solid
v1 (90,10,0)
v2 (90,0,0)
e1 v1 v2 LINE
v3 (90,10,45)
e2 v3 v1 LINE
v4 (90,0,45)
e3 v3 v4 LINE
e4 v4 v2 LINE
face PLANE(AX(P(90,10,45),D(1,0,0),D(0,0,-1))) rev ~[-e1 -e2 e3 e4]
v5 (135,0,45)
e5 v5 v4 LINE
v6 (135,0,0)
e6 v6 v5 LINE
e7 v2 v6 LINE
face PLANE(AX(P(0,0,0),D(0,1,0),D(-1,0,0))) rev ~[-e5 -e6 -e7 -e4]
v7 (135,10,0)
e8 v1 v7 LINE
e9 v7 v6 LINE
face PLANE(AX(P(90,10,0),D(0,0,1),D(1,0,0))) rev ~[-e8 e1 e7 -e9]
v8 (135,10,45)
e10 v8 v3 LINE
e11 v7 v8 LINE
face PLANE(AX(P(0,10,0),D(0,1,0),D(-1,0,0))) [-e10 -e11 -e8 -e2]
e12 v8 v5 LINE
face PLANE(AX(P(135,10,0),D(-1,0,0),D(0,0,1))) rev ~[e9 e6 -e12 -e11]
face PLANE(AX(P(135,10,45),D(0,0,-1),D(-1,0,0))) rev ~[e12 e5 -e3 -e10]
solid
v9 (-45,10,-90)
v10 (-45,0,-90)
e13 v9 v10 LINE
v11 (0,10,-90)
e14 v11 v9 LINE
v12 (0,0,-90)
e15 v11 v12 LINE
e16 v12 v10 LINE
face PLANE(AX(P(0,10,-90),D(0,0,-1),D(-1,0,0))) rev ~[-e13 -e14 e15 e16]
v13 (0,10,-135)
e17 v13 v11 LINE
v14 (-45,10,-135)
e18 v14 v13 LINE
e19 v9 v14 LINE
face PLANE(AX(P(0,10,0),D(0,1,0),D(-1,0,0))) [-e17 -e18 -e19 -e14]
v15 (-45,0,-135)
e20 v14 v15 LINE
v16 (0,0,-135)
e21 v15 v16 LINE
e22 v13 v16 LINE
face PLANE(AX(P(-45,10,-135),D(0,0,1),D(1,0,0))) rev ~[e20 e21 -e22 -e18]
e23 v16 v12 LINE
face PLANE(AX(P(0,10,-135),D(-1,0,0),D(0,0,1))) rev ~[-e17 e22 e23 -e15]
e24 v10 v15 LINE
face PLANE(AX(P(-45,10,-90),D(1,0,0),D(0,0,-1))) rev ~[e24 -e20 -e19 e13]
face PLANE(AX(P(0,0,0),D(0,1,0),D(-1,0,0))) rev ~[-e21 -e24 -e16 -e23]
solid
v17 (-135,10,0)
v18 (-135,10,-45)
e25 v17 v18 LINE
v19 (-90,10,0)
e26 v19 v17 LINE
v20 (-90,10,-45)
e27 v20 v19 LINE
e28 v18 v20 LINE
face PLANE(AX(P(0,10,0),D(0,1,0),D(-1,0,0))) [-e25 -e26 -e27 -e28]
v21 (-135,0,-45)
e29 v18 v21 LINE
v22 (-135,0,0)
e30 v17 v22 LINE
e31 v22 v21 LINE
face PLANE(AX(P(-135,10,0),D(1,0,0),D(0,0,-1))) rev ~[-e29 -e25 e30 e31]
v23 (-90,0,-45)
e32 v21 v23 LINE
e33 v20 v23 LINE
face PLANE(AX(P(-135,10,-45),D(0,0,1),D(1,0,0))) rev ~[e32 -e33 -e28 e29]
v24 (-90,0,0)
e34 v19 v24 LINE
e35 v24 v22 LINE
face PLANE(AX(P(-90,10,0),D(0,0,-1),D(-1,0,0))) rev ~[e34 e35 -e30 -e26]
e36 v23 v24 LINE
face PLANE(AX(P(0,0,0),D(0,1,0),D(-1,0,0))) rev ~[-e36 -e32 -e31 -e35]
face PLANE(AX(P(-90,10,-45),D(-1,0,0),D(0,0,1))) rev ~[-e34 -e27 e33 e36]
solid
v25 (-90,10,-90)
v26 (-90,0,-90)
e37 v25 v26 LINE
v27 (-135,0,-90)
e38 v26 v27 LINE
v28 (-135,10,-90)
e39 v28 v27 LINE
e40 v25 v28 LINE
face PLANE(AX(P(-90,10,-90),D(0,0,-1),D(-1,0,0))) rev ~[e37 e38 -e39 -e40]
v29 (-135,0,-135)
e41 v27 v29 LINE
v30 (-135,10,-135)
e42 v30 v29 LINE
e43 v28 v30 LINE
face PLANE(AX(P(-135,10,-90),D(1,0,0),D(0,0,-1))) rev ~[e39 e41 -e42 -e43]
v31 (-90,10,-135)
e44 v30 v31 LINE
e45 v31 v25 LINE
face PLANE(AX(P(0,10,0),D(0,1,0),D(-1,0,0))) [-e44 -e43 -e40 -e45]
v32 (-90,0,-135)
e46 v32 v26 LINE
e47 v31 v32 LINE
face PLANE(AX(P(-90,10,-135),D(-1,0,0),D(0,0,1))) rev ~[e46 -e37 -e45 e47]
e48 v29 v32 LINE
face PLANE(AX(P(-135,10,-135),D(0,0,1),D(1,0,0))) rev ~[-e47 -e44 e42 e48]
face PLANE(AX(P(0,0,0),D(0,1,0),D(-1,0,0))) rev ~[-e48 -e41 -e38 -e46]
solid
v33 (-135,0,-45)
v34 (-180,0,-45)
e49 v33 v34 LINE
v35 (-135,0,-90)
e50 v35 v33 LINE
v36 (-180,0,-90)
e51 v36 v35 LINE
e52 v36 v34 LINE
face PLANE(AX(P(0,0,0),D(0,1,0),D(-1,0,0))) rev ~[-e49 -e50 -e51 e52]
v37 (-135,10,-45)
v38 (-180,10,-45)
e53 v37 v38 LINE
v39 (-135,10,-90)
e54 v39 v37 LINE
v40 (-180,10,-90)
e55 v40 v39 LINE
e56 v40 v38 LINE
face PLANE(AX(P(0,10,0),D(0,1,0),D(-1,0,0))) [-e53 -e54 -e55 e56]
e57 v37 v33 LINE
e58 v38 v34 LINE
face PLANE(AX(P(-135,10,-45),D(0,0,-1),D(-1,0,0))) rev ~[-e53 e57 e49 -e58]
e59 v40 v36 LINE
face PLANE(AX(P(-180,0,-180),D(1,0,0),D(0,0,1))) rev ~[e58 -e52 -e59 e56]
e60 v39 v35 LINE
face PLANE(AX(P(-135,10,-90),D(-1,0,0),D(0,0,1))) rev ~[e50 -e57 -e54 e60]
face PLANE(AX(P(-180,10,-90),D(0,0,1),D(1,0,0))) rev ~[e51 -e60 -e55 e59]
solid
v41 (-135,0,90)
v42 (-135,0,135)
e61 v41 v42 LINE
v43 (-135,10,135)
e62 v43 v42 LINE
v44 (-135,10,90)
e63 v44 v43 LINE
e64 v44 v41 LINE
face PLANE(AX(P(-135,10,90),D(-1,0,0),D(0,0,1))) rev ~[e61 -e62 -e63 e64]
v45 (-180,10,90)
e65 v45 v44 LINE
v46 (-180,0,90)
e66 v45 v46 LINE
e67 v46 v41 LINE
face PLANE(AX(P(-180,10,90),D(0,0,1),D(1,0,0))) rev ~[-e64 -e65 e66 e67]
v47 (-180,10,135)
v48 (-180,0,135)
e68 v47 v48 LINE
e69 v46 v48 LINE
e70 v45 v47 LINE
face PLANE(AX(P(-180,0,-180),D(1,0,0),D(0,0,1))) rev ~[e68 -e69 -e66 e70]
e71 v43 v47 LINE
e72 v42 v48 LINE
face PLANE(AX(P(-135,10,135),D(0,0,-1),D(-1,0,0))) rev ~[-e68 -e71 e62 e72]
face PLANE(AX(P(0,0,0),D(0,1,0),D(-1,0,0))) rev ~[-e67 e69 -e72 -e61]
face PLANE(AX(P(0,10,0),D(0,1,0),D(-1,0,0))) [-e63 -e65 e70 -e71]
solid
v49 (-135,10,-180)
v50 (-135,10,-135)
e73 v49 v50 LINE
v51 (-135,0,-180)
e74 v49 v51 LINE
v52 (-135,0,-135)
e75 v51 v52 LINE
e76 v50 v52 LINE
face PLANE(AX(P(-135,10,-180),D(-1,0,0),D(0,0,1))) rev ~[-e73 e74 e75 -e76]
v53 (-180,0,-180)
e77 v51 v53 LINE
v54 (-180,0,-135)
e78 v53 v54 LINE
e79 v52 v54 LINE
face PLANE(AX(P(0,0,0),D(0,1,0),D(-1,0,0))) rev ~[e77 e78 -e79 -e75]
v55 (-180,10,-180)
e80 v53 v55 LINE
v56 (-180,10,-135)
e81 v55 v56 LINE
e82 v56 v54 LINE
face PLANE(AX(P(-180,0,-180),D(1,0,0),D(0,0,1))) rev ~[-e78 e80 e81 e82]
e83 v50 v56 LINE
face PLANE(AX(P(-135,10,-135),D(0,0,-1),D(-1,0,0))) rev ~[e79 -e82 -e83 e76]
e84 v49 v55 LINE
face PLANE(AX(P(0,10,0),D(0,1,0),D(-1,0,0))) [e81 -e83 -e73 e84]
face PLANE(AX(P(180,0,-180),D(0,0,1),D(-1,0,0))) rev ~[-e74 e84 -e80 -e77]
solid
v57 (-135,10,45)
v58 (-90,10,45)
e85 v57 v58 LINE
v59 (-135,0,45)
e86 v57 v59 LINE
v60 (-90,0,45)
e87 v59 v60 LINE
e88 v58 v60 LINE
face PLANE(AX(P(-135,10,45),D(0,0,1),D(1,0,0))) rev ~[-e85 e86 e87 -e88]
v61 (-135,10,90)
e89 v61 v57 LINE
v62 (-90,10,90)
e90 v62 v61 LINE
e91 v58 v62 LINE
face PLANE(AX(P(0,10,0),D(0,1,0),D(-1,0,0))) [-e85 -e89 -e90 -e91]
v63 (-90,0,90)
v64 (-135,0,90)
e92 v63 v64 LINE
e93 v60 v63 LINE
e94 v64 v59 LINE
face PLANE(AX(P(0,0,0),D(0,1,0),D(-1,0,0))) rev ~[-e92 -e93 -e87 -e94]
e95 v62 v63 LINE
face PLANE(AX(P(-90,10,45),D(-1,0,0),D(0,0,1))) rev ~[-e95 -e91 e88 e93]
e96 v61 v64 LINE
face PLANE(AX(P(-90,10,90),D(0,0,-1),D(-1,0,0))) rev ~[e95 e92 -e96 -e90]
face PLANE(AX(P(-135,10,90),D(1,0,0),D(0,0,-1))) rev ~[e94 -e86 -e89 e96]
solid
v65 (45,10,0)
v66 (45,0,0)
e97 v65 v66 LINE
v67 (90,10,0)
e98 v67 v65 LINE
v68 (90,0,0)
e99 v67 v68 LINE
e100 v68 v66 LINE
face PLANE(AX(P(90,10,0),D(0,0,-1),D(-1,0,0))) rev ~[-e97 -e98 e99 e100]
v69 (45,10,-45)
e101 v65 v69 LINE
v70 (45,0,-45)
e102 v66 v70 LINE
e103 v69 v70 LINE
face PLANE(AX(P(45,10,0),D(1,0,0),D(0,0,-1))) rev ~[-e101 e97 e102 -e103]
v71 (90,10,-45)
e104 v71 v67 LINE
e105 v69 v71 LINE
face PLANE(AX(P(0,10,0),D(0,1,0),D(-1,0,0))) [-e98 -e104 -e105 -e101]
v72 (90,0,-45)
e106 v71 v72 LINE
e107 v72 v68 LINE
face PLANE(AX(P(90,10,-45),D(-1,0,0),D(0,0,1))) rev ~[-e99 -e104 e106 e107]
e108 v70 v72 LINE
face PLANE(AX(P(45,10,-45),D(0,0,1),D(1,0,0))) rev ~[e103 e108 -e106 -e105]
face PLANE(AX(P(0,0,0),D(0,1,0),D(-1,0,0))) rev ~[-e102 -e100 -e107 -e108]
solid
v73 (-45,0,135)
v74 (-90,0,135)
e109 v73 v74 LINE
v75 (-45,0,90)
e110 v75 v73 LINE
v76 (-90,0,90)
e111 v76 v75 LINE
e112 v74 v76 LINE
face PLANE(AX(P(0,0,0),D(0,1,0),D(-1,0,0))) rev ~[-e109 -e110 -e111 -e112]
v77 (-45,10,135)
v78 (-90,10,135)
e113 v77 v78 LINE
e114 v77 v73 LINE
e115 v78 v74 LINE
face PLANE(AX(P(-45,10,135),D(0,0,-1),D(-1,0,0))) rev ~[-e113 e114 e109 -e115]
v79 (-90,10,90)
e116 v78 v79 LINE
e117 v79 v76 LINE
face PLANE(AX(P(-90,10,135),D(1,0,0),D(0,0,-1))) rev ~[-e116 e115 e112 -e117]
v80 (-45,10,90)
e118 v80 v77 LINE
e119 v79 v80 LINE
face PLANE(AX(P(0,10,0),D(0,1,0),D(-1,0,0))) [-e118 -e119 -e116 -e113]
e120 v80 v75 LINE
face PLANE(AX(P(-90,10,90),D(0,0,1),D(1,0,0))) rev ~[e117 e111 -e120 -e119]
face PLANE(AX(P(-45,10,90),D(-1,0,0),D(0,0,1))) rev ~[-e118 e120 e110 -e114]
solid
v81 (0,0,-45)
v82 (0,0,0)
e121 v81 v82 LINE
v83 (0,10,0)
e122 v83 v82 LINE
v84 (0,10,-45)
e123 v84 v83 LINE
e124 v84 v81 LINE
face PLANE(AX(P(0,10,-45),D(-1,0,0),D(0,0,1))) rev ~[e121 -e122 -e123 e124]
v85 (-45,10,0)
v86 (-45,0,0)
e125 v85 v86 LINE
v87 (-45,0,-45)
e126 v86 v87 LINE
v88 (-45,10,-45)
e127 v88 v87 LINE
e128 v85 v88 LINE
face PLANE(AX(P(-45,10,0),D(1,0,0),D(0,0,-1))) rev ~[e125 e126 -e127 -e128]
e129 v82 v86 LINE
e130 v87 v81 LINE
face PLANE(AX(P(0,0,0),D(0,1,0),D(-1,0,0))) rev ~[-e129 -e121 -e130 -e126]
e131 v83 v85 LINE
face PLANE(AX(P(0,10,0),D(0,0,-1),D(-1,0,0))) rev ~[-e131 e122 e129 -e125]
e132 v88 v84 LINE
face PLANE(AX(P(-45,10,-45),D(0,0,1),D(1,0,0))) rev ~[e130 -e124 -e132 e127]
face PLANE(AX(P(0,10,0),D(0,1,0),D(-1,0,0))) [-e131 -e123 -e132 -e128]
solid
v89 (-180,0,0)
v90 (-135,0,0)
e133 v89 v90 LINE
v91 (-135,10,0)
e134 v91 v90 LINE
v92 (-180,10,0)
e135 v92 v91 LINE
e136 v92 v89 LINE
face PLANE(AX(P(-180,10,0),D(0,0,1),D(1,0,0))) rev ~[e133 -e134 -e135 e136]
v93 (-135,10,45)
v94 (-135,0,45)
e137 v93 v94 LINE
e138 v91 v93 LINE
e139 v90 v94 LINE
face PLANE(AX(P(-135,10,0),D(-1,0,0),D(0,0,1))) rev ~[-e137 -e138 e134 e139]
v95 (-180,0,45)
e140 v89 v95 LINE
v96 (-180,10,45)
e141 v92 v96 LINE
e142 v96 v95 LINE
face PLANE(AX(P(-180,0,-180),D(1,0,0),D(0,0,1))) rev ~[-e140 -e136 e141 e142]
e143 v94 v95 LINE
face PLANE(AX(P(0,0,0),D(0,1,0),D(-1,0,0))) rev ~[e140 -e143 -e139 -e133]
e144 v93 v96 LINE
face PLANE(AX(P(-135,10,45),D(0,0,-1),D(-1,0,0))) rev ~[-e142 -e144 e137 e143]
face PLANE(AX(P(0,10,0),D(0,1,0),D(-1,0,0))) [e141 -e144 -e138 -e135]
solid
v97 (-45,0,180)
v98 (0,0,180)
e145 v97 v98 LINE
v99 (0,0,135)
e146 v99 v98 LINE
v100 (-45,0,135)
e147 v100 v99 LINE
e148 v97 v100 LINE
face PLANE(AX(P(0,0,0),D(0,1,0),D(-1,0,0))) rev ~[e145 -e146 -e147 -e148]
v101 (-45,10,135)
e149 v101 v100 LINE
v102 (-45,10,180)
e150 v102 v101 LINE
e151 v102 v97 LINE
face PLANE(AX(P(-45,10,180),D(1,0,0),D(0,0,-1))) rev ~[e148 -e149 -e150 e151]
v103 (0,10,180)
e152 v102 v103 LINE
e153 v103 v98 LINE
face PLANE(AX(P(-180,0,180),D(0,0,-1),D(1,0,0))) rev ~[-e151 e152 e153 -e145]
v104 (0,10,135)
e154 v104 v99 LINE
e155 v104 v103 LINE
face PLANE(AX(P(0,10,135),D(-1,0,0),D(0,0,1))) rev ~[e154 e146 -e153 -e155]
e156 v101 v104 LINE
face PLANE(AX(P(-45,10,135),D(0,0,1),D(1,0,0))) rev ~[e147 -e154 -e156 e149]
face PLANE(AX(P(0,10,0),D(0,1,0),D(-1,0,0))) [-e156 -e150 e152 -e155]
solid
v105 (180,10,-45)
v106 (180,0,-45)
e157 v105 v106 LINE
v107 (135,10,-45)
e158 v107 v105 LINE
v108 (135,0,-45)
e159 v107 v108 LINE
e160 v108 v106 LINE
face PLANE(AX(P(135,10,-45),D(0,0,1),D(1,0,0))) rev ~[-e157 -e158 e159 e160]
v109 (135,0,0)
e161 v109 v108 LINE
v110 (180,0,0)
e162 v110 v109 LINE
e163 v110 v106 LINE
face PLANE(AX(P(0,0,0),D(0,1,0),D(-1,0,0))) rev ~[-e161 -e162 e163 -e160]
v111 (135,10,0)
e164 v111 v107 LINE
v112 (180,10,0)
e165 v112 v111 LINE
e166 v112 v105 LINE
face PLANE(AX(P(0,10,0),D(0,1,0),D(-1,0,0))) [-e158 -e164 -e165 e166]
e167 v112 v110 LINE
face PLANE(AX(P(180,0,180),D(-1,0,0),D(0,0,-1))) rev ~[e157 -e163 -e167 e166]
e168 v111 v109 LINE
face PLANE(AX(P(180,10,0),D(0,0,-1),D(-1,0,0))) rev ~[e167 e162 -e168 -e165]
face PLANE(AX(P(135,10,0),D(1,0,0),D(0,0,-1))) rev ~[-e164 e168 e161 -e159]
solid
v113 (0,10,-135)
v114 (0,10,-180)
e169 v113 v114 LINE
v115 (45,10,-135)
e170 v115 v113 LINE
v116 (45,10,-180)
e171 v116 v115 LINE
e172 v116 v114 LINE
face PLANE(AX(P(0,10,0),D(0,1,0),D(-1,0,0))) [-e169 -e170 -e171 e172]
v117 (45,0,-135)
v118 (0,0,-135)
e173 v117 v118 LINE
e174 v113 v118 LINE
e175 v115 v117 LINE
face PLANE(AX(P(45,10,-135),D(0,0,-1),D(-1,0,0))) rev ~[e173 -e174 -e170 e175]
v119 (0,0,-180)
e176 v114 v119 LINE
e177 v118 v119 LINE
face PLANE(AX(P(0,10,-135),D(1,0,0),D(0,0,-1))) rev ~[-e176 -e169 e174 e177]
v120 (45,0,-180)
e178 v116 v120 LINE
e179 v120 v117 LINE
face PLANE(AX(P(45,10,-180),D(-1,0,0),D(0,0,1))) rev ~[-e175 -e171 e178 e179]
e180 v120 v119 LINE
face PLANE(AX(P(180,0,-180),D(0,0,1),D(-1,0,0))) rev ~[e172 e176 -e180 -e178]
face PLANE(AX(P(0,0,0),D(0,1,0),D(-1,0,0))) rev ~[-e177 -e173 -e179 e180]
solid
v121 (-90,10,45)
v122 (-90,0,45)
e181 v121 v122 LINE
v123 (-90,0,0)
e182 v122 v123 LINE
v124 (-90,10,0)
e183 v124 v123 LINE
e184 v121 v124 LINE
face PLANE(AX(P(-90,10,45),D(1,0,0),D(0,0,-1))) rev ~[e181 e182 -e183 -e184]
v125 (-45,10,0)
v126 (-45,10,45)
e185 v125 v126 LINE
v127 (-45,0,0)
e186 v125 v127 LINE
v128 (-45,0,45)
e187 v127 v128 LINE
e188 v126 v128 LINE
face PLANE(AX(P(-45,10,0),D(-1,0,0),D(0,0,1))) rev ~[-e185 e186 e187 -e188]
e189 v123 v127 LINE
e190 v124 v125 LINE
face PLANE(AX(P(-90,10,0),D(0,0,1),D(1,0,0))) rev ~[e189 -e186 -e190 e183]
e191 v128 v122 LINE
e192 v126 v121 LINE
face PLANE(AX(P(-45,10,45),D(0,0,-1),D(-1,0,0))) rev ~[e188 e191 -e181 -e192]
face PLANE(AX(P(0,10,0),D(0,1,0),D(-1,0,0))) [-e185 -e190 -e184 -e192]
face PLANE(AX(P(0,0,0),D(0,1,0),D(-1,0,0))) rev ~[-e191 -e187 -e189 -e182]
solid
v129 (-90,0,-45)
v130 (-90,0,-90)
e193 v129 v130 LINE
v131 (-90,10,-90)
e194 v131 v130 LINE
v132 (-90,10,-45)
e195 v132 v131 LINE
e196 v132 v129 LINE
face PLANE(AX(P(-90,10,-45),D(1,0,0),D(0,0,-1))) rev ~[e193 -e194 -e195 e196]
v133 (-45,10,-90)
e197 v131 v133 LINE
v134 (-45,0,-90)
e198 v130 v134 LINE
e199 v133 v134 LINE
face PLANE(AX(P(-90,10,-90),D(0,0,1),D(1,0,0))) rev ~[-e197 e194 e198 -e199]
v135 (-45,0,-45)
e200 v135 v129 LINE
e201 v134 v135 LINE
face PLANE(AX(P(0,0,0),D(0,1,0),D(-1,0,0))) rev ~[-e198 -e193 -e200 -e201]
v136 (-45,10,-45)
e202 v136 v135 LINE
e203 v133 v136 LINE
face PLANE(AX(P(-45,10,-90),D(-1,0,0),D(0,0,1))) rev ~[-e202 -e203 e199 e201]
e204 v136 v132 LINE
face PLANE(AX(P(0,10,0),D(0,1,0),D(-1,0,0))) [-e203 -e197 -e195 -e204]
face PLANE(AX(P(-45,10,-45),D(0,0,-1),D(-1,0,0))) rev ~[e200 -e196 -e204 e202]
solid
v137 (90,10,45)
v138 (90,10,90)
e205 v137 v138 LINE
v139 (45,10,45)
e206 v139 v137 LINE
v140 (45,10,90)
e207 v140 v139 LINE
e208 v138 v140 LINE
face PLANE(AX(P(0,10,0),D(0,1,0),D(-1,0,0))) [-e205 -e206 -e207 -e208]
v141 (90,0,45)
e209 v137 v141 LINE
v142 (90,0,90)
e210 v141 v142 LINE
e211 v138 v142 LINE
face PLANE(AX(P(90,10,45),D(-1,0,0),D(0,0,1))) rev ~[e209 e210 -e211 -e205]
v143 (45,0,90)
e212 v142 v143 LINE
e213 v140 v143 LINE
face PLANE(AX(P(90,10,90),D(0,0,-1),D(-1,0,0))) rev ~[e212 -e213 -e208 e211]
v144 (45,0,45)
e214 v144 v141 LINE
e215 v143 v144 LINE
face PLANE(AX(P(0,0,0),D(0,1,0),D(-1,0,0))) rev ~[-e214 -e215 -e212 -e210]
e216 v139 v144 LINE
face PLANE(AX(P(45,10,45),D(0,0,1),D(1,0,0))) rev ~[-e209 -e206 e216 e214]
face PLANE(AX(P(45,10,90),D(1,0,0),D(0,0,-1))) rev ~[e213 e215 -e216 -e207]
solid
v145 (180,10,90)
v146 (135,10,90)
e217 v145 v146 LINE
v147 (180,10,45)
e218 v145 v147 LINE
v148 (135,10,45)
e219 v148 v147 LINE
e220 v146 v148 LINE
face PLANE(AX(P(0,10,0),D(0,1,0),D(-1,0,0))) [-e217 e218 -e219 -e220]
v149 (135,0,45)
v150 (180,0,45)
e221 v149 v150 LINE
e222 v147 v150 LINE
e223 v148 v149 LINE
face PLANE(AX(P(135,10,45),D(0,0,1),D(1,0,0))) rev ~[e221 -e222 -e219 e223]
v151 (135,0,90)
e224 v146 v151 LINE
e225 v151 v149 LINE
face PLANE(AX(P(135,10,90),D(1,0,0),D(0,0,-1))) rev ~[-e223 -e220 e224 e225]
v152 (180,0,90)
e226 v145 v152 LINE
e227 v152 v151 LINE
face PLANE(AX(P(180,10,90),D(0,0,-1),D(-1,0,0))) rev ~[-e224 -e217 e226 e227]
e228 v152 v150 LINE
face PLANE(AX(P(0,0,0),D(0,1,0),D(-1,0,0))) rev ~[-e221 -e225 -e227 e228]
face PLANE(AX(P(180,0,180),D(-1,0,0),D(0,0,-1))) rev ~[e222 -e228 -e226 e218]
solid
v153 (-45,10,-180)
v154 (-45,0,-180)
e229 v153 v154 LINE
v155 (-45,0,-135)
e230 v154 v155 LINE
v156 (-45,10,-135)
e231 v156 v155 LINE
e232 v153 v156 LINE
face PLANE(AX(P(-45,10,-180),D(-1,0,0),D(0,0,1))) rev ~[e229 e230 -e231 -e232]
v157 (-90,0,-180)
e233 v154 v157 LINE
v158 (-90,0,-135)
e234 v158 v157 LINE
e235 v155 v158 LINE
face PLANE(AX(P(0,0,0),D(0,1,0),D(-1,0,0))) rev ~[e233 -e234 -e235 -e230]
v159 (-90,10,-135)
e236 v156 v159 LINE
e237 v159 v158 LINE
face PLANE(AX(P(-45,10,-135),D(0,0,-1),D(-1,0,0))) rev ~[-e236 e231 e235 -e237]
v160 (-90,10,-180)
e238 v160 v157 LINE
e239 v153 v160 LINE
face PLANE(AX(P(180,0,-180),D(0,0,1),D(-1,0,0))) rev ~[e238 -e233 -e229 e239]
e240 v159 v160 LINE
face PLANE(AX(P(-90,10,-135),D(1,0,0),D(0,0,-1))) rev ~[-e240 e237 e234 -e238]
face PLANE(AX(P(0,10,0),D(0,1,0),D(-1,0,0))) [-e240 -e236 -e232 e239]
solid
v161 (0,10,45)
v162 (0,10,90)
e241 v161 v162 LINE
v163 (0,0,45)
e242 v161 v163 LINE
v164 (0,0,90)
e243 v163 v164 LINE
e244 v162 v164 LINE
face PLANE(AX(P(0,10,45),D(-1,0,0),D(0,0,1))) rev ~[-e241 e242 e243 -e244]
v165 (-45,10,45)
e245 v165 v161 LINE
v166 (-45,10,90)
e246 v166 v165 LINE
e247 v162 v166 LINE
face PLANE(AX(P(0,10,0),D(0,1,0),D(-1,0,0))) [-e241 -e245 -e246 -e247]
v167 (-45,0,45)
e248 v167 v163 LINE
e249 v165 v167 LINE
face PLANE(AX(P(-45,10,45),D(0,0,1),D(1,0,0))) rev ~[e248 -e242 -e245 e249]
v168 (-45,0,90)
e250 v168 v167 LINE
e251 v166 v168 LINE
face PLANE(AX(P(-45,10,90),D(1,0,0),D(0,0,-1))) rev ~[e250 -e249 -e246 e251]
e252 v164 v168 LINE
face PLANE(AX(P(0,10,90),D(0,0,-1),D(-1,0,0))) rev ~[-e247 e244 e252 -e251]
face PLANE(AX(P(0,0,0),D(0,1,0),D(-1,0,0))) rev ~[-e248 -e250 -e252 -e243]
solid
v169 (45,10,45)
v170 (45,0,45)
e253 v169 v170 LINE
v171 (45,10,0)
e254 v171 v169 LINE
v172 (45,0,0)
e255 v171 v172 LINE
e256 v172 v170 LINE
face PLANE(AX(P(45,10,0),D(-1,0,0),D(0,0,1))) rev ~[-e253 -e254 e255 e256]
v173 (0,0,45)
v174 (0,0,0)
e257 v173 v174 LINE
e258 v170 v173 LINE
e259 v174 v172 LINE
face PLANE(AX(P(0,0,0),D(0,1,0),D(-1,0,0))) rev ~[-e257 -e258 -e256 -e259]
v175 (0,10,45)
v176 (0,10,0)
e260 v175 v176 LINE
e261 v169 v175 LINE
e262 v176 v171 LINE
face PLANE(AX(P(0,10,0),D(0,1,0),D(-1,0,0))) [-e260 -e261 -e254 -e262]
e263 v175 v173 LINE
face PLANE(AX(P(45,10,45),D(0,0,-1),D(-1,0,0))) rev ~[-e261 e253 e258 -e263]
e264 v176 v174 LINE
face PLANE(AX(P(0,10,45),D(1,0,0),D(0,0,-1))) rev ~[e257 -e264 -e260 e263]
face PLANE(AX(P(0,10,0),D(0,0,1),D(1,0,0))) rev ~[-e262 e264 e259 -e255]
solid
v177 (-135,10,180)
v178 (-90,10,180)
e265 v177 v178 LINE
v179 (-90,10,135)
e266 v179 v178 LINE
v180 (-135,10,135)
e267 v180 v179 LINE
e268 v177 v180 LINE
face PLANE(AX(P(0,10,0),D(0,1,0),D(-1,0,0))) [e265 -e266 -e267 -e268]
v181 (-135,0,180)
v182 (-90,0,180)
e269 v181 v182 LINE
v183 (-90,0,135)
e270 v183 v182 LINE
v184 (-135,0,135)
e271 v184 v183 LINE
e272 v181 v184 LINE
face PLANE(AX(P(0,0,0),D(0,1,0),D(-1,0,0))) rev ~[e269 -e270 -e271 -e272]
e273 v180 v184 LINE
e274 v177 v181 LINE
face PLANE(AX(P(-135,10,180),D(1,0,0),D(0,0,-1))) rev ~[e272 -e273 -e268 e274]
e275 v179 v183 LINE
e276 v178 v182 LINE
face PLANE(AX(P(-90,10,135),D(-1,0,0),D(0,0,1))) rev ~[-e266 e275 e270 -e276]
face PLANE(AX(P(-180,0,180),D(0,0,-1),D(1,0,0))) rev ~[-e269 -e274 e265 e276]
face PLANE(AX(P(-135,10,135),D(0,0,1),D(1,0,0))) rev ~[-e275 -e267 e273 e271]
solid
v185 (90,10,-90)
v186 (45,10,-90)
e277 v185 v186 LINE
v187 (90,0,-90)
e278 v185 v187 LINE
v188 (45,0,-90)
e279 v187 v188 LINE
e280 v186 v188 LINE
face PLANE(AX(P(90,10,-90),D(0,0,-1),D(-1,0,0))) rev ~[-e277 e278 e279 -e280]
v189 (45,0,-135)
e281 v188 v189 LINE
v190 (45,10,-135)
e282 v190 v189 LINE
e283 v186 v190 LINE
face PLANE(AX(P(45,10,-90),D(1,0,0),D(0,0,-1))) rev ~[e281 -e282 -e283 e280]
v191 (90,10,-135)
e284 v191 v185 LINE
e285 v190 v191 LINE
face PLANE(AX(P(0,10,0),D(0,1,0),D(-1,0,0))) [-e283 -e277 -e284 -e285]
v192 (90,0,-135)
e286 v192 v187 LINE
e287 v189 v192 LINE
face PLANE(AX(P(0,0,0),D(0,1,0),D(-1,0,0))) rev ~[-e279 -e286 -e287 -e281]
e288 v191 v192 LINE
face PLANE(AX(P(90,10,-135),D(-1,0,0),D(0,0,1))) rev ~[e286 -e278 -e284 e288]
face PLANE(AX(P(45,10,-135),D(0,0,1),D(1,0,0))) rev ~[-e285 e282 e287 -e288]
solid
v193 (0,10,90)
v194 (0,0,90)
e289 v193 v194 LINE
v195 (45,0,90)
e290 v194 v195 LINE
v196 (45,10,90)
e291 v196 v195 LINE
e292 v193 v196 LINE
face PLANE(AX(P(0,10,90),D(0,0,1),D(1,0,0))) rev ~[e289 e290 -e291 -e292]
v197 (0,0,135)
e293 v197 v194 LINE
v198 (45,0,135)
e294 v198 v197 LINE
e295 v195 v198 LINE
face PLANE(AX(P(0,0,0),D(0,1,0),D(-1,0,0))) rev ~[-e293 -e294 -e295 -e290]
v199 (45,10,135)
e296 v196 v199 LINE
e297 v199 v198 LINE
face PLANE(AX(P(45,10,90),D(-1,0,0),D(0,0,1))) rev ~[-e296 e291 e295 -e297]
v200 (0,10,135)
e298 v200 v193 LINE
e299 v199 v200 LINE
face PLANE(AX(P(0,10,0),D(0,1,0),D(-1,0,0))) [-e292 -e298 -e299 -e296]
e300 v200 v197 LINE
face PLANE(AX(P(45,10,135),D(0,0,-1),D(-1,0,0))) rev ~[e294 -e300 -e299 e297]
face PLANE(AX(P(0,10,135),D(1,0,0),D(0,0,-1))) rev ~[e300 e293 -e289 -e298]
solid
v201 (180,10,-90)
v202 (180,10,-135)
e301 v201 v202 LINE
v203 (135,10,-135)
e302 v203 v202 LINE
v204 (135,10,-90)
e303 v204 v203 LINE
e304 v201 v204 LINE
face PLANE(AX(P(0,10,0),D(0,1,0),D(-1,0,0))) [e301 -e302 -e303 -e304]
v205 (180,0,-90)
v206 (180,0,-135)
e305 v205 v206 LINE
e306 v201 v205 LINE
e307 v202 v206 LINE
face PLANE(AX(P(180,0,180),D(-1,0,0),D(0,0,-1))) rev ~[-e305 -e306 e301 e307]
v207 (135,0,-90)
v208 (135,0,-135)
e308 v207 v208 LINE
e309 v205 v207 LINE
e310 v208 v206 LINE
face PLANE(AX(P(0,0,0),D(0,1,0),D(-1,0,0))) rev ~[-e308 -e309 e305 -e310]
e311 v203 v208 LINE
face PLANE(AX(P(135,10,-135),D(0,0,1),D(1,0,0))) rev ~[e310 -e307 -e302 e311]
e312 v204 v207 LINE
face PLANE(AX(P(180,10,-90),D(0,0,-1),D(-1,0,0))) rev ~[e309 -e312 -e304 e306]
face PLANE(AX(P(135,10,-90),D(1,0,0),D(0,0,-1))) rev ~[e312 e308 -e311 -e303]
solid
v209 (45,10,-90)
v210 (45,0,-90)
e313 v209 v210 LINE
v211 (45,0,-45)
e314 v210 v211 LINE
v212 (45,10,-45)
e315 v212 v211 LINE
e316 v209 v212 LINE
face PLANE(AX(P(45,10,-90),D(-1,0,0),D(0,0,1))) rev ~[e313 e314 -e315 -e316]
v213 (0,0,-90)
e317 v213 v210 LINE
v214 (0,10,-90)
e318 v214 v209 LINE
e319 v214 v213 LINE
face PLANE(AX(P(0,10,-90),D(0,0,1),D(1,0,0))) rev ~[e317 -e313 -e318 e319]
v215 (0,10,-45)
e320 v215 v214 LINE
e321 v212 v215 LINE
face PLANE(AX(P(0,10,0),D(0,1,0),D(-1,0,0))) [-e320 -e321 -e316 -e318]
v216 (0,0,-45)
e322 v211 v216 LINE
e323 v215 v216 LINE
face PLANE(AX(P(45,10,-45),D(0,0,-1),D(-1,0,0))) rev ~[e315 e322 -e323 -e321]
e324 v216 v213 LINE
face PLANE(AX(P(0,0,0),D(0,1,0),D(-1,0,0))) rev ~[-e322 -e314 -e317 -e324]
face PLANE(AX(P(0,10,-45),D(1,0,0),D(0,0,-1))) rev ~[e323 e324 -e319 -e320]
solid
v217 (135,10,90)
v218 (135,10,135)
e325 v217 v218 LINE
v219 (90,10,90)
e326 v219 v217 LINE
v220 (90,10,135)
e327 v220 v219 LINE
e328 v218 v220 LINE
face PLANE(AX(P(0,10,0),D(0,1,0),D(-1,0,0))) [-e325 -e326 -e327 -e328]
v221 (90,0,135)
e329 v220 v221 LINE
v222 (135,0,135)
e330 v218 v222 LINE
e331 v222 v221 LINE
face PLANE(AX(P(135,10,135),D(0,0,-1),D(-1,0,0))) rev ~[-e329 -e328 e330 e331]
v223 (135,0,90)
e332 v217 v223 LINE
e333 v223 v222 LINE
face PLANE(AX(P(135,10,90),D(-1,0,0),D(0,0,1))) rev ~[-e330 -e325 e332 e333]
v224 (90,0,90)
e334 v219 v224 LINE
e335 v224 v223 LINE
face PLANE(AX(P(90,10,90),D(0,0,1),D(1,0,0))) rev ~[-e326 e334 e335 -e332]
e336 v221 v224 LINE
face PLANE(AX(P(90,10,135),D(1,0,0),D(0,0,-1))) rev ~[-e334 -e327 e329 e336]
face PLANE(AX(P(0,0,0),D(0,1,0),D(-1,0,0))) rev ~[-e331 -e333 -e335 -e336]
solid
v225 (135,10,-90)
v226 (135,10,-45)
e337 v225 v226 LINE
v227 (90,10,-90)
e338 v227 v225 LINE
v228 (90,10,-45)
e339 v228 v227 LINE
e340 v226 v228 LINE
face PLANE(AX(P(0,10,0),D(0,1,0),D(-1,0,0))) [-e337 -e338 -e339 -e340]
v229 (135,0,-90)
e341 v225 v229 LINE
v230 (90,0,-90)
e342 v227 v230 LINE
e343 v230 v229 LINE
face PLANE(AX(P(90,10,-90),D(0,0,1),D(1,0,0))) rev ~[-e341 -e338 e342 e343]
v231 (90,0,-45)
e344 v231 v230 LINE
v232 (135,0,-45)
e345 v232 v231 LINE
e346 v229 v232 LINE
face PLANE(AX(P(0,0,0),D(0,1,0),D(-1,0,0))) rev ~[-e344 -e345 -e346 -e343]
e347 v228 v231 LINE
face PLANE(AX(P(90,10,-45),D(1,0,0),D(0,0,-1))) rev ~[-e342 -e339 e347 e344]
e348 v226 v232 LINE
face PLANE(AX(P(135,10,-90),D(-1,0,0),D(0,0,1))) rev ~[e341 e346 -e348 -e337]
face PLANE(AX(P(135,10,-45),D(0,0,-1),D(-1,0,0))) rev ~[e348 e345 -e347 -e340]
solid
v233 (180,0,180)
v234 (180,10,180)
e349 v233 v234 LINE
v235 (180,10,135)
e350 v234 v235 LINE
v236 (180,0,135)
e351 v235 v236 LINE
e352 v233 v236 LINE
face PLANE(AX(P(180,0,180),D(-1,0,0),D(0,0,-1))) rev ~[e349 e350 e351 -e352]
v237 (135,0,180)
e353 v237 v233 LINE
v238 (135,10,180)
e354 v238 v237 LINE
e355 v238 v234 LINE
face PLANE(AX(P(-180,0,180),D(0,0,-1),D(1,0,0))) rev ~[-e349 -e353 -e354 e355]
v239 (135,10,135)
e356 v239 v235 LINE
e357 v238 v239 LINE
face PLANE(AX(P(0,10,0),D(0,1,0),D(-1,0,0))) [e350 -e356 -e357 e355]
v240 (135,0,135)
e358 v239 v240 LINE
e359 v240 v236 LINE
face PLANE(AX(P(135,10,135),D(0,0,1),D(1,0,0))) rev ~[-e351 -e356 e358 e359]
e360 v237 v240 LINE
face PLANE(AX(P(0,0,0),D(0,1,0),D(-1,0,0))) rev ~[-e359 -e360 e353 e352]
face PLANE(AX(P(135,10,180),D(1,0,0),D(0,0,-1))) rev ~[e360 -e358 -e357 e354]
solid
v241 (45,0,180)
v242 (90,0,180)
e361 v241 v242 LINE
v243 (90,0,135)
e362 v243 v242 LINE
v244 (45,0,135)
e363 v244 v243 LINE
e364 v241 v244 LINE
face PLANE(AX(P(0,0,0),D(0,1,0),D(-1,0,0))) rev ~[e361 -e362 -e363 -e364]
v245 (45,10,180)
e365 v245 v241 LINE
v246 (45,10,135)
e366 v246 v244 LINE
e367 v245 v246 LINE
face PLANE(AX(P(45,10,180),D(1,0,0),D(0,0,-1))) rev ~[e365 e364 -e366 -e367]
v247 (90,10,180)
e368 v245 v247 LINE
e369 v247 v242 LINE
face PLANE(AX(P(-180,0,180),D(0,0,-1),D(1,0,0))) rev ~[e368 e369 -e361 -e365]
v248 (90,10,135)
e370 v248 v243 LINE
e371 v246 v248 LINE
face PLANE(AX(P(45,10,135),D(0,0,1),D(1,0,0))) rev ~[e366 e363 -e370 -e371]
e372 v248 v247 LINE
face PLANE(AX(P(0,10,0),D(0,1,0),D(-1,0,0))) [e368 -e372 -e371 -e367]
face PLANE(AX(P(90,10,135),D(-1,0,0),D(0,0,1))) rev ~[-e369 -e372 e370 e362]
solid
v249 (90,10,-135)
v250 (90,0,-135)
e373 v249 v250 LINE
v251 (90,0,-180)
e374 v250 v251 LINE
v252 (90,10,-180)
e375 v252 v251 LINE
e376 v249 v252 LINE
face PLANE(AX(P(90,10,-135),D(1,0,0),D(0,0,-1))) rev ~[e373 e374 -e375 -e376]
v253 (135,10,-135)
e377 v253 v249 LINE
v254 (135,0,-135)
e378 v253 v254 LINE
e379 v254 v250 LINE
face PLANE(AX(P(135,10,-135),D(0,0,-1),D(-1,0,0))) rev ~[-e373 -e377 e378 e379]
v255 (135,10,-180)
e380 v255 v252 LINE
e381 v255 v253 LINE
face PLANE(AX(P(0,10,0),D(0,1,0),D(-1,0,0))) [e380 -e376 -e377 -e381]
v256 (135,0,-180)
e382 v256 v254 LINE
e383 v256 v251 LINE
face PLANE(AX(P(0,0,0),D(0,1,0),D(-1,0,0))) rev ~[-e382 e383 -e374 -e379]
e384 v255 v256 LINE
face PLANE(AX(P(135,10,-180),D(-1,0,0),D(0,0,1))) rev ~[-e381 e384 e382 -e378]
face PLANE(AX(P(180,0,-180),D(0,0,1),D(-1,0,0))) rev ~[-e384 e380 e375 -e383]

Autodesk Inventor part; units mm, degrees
ref_plane "YZ Plane" through (0, 0, 0) normal (1, 0, 0) x (0, 1, 0)
ref_plane "XZ Plane" through (0, 0, 0) normal (0, 1, 0) x (-1, 0, 0)
ref_plane "XY Plane" through (0, 0, 0) normal (0, 0, 1) x (1, 0, 0)
sketch "Sketch1" plane through (0, 0, 0) normal (0, 1, 0) x (-1, 0, 0)
  line L0 (180, 180) -> (-180, 180)
  line L1 (-180, 180) -> (-180, -180)
  line L2 (-180, -180) -> (180, -180)
  line L3 (180, -180) -> (180, 180)
  line L4 (180, 180) -> (-180, -180) construction
  line L5 (-180, 180) -> (180, -180) construction
  point P0 (0, 0)
  dimension "d0" = 360
  dimension "d1" = 360
extrude "Extrusion1" add sketch "Sketch1" along normal blind 10
sketch "Sketch2" plane through (0, 10, 0) normal (0, 1, 0) x (1, 0, 0)
  line L0 (-180, -180) -> (-135, -180)
  line L1 (-135, -180) -> (-135, -135)
  line L2 (-135, -135) -> (-180, -135)
  line L3 (-180, -135) -> (-180, -180)
  line L4 (-180, -90) -> (-135, -90)
  line L5 (-135, -90) -> (-135, -45)
  line L6 (-135, -45) -> (-180, -45)
  line L7 (-180, -45) -> (-180, -90)
  line L8 (-180, 0) -> (-135, 0)
  line L9 (-135, 0) -> (-135, 45)
  line L10 (-135, 45) -> (-180, 45)
  line L11 (-180, 45) -> (-180, 0)
  line L12 (-180, 90) -> (-135, 90)
  line L13 (-135, 90) -> (-135, 135)
  line L14 (-135, 135) -> (-180, 135)
  line L15 (-180, 135) -> (-180, 90)
  line L16 (-90, -180) -> (-45, -180)
  line L17 (-45, -180) -> (-45, -135)
  line L18 (-45, -135) -> (-90, -135)
  line L19 (-90, -135) -> (-90, -180)
  line L20 (-90, -90) -> (-45, -90)
  line L21 (-45, -90) -> (-45, -45)
  line L22 (-45, -45) -> (-90, -45)
  line L23 (-90, -45) -> (-90, -90)
  line L24 (-90, 0) -> (-45, 0)
  line L25 (-45, 0) -> (-45, 45)
  line L26 (-45, 45) -> (-90, 45)
  line L27 (-90, 45) -> (-90, 0)
  line L28 (-90, 90) -> (-45, 90)
  line L29 (-45, 90) -> (-45, 135)
  line L30 (-45, 135) -> (-90, 135)
  line L31 (-90, 135) -> (-90, 90)
  line L32 (0, -180) -> (45, -180)
  line L33 (45, -180) -> (45, -135)
  line L34 (45, -135) -> (0, -135)
  line L35 (0, -135) -> (0, -180)
  line L36 (0, -90) -> (45, -90)
  line L37 (45, -90) -> (45, -45)
  line L38 (45, -45) -> (0, -45)
  line L39 (0, -45) -> (0, -90)
  line L40 (0, 0) -> (45, 0)
  line L41 (45, 0) -> (45, 45)
  line L42 (45, 45) -> (0, 45)
  line L43 (0, 45) -> (0, 0)
  line L44 (0, 90) -> (45, 90)
  line L45 (45, 90) -> (45, 135)
  line L46 (45, 135) -> (0, 135)
  line L47 (0, 135) -> (0, 90)
  line L48 (90, -180) -> (135, -180)
  line L49 (135, -180) -> (135, -135)
  line L50 (135, -135) -> (90, -135)
  line L51 (90, -135) -> (90, -180)
  line L52 (90, -90) -> (135, -90)
  line L53 (135, -90) -> (135, -45)
  line L54 (135, -45) -> (90, -45)
  line L55 (90, -45) -> (90, -90)
  line L56 (90, 0) -> (135, 0)
  line L57 (135, 0) -> (135, 45)
  line L58 (135, 45) -> (90, 45)
  line L59 (90, 45) -> (90, 0)
  line L60 (90, 90) -> (135, 90)
  line L61 (135, 90) -> (135, 135)
  line L62 (135, 135) -> (90, 135)
  line L63 (90, 135) -> (90, 90)
  line L64 (-135, -135) -> (-90, -135)
  line L65 (-90, -135) -> (-90, -90)
  line L66 (-90, -90) -> (-135, -90)
  line L67 (-135, -90) -> (-135, -135)
  line L68 (-135, -45) -> (-90, -45)
  line L69 (-90, -45) -> (-90, 0)
  line L70 (-90, 0) -> (-135, 0)
  line L71 (-135, 0) -> (-135, -45)
  line L72 (-135, 45) -> (-90, 45)
  line L73 (-90, 45) -> (-90, 90)
  line L74 (-90, 90) -> (-135, 90)
  line L75 (-135, 90) -> (-135, 45)
  line L76 (-135, 135) -> (-90, 135)
  line L77 (-90, 135) -> (-90, 180)
  line L78 (-90, 180) -> (-135, 180)
  line L79 (-135, 180) -> (-135, 135)
  line L80 (-45, -135) -> (0, -135)
  line L81 (0, -135) -> (0, -90)
  line L82 (0, -90) -> (-45, -90)
  line L83 (-45, -90) -> (-45, -135)
  line L84 (-45, -45) -> (0, -45)
  line L85 (0, -45) -> (0, 0)
  line L86 (0, 0) -> (-45, 0)
  line L87 (-45, 0) -> (-45, -45)
  line L88 (-45, 45) -> (0, 45)
  line L89 (0, 45) -> (0, 90)
  line L90 (0, 90) -> (-45, 90)
  line L91 (-45, 90) -> (-45, 45)
  line L92 (-45, 135) -> (0, 135)
  line L93 (0, 135) -> (0, 180)
  line L94 (0, 180) -> (-45, 180)
  line L95 (-45, 180) -> (-45, 135)
  line L96 (45, -135) -> (90, -135)
  line L97 (90, -135) -> (90, -90)
  line L98 (90, -90) -> (45, -90)
  line L99 (45, -90) -> (45, -135)
  line L100 (45, -45) -> (90, -45)
  line L101 (90, -45) -> (90, 0)
  line L102 (90, 0) -> (45, 0)
  line L103 (45, 0) -> (45, -45)
  line L104 (45, 45) -> (90, 45)
  line L105 (90, 45) -> (90, 90)
  line L106 (90, 90) -> (45, 90)
  line L107 (45, 90) -> (45, 45)
  line L108 (45, 135) -> (90, 135)
  line L109 (90, 135) -> (90, 180)
  line L110 (90, 180) -> (45, 180)
  line L111 (45, 180) -> (45, 135)
  line L112 (135, -135) -> (180, -135)
  line L113 (180, -135) -> (180, -90)
  line L114 (180, -90) -> (135, -90)
  line L115 (135, -90) -> (135, -135)
  line L116 (135, -45) -> (180, -45)
  line L117 (180, -45) -> (180, 0)
  line L118 (180, 0) -> (135, 0)
  line L119 (135, 0) -> (135, -45)
  line L120 (135, 45) -> (180, 45)
  line L121 (180, 45) -> (180, 90)
  line L122 (180, 90) -> (135, 90)
  line L123 (135, 90) -> (135, 45)
  line L124 (135, 135) -> (180, 135)
  line L125 (180, 135) -> (180, 180)
  line L126 (180, 180) -> (135, 180)
  line L127 (135, 180) -> (135, 135)
  dimension "d4" = 45
  dimension "d5" = 45
  dimension "d8" = 90
  dimension "d11" = 90
  dimension "d18" = 45
  dimension "d19" = 45
  dimension "d20" = 90
  dimension "d21" = 90
extrude "Extrusion2" cut sketch "Sketch2" against normal blind 10 contours L3 L2 L1 L0 | L127 L126 L125 L124 | L67 L66 L65 L64 | L18 L17 L16 L19 | L4 L7 L6 L5 | L83 L82 L81 L80 | L23 L22 L21 L20 | L71 L70 L69 L68 | L34 L33 L32 L35 | L8 L11 L10 L9 | L99 L98 L97 L96 | L39 L38 L37 L36 | L87 L86 L85 L84 | L27 L26 L25 L24 | L75 L74 L73 L72 | L50 L49 L48 L51 | L12 L15 L14 L13 | L115 L114 L113 L112 | L55 L54 L53 L52 | L103 L102 L101 L100 | L43 L42 L41 L40 | L91 L90 L89 L88 | L31 L30 L29 L28 | L79 L78 L77 L76 | L119 L118 L117 L116 | L59 L58 L57 L56 | L107 L106 L105 L104 | L47 L46 L45 L44 | L95 L94 L93 L92 | L123 L122 L121 L120 | L63 L62 L61 L60 | L111 L110 L109 L108
properties part number "Board Piece 1"
